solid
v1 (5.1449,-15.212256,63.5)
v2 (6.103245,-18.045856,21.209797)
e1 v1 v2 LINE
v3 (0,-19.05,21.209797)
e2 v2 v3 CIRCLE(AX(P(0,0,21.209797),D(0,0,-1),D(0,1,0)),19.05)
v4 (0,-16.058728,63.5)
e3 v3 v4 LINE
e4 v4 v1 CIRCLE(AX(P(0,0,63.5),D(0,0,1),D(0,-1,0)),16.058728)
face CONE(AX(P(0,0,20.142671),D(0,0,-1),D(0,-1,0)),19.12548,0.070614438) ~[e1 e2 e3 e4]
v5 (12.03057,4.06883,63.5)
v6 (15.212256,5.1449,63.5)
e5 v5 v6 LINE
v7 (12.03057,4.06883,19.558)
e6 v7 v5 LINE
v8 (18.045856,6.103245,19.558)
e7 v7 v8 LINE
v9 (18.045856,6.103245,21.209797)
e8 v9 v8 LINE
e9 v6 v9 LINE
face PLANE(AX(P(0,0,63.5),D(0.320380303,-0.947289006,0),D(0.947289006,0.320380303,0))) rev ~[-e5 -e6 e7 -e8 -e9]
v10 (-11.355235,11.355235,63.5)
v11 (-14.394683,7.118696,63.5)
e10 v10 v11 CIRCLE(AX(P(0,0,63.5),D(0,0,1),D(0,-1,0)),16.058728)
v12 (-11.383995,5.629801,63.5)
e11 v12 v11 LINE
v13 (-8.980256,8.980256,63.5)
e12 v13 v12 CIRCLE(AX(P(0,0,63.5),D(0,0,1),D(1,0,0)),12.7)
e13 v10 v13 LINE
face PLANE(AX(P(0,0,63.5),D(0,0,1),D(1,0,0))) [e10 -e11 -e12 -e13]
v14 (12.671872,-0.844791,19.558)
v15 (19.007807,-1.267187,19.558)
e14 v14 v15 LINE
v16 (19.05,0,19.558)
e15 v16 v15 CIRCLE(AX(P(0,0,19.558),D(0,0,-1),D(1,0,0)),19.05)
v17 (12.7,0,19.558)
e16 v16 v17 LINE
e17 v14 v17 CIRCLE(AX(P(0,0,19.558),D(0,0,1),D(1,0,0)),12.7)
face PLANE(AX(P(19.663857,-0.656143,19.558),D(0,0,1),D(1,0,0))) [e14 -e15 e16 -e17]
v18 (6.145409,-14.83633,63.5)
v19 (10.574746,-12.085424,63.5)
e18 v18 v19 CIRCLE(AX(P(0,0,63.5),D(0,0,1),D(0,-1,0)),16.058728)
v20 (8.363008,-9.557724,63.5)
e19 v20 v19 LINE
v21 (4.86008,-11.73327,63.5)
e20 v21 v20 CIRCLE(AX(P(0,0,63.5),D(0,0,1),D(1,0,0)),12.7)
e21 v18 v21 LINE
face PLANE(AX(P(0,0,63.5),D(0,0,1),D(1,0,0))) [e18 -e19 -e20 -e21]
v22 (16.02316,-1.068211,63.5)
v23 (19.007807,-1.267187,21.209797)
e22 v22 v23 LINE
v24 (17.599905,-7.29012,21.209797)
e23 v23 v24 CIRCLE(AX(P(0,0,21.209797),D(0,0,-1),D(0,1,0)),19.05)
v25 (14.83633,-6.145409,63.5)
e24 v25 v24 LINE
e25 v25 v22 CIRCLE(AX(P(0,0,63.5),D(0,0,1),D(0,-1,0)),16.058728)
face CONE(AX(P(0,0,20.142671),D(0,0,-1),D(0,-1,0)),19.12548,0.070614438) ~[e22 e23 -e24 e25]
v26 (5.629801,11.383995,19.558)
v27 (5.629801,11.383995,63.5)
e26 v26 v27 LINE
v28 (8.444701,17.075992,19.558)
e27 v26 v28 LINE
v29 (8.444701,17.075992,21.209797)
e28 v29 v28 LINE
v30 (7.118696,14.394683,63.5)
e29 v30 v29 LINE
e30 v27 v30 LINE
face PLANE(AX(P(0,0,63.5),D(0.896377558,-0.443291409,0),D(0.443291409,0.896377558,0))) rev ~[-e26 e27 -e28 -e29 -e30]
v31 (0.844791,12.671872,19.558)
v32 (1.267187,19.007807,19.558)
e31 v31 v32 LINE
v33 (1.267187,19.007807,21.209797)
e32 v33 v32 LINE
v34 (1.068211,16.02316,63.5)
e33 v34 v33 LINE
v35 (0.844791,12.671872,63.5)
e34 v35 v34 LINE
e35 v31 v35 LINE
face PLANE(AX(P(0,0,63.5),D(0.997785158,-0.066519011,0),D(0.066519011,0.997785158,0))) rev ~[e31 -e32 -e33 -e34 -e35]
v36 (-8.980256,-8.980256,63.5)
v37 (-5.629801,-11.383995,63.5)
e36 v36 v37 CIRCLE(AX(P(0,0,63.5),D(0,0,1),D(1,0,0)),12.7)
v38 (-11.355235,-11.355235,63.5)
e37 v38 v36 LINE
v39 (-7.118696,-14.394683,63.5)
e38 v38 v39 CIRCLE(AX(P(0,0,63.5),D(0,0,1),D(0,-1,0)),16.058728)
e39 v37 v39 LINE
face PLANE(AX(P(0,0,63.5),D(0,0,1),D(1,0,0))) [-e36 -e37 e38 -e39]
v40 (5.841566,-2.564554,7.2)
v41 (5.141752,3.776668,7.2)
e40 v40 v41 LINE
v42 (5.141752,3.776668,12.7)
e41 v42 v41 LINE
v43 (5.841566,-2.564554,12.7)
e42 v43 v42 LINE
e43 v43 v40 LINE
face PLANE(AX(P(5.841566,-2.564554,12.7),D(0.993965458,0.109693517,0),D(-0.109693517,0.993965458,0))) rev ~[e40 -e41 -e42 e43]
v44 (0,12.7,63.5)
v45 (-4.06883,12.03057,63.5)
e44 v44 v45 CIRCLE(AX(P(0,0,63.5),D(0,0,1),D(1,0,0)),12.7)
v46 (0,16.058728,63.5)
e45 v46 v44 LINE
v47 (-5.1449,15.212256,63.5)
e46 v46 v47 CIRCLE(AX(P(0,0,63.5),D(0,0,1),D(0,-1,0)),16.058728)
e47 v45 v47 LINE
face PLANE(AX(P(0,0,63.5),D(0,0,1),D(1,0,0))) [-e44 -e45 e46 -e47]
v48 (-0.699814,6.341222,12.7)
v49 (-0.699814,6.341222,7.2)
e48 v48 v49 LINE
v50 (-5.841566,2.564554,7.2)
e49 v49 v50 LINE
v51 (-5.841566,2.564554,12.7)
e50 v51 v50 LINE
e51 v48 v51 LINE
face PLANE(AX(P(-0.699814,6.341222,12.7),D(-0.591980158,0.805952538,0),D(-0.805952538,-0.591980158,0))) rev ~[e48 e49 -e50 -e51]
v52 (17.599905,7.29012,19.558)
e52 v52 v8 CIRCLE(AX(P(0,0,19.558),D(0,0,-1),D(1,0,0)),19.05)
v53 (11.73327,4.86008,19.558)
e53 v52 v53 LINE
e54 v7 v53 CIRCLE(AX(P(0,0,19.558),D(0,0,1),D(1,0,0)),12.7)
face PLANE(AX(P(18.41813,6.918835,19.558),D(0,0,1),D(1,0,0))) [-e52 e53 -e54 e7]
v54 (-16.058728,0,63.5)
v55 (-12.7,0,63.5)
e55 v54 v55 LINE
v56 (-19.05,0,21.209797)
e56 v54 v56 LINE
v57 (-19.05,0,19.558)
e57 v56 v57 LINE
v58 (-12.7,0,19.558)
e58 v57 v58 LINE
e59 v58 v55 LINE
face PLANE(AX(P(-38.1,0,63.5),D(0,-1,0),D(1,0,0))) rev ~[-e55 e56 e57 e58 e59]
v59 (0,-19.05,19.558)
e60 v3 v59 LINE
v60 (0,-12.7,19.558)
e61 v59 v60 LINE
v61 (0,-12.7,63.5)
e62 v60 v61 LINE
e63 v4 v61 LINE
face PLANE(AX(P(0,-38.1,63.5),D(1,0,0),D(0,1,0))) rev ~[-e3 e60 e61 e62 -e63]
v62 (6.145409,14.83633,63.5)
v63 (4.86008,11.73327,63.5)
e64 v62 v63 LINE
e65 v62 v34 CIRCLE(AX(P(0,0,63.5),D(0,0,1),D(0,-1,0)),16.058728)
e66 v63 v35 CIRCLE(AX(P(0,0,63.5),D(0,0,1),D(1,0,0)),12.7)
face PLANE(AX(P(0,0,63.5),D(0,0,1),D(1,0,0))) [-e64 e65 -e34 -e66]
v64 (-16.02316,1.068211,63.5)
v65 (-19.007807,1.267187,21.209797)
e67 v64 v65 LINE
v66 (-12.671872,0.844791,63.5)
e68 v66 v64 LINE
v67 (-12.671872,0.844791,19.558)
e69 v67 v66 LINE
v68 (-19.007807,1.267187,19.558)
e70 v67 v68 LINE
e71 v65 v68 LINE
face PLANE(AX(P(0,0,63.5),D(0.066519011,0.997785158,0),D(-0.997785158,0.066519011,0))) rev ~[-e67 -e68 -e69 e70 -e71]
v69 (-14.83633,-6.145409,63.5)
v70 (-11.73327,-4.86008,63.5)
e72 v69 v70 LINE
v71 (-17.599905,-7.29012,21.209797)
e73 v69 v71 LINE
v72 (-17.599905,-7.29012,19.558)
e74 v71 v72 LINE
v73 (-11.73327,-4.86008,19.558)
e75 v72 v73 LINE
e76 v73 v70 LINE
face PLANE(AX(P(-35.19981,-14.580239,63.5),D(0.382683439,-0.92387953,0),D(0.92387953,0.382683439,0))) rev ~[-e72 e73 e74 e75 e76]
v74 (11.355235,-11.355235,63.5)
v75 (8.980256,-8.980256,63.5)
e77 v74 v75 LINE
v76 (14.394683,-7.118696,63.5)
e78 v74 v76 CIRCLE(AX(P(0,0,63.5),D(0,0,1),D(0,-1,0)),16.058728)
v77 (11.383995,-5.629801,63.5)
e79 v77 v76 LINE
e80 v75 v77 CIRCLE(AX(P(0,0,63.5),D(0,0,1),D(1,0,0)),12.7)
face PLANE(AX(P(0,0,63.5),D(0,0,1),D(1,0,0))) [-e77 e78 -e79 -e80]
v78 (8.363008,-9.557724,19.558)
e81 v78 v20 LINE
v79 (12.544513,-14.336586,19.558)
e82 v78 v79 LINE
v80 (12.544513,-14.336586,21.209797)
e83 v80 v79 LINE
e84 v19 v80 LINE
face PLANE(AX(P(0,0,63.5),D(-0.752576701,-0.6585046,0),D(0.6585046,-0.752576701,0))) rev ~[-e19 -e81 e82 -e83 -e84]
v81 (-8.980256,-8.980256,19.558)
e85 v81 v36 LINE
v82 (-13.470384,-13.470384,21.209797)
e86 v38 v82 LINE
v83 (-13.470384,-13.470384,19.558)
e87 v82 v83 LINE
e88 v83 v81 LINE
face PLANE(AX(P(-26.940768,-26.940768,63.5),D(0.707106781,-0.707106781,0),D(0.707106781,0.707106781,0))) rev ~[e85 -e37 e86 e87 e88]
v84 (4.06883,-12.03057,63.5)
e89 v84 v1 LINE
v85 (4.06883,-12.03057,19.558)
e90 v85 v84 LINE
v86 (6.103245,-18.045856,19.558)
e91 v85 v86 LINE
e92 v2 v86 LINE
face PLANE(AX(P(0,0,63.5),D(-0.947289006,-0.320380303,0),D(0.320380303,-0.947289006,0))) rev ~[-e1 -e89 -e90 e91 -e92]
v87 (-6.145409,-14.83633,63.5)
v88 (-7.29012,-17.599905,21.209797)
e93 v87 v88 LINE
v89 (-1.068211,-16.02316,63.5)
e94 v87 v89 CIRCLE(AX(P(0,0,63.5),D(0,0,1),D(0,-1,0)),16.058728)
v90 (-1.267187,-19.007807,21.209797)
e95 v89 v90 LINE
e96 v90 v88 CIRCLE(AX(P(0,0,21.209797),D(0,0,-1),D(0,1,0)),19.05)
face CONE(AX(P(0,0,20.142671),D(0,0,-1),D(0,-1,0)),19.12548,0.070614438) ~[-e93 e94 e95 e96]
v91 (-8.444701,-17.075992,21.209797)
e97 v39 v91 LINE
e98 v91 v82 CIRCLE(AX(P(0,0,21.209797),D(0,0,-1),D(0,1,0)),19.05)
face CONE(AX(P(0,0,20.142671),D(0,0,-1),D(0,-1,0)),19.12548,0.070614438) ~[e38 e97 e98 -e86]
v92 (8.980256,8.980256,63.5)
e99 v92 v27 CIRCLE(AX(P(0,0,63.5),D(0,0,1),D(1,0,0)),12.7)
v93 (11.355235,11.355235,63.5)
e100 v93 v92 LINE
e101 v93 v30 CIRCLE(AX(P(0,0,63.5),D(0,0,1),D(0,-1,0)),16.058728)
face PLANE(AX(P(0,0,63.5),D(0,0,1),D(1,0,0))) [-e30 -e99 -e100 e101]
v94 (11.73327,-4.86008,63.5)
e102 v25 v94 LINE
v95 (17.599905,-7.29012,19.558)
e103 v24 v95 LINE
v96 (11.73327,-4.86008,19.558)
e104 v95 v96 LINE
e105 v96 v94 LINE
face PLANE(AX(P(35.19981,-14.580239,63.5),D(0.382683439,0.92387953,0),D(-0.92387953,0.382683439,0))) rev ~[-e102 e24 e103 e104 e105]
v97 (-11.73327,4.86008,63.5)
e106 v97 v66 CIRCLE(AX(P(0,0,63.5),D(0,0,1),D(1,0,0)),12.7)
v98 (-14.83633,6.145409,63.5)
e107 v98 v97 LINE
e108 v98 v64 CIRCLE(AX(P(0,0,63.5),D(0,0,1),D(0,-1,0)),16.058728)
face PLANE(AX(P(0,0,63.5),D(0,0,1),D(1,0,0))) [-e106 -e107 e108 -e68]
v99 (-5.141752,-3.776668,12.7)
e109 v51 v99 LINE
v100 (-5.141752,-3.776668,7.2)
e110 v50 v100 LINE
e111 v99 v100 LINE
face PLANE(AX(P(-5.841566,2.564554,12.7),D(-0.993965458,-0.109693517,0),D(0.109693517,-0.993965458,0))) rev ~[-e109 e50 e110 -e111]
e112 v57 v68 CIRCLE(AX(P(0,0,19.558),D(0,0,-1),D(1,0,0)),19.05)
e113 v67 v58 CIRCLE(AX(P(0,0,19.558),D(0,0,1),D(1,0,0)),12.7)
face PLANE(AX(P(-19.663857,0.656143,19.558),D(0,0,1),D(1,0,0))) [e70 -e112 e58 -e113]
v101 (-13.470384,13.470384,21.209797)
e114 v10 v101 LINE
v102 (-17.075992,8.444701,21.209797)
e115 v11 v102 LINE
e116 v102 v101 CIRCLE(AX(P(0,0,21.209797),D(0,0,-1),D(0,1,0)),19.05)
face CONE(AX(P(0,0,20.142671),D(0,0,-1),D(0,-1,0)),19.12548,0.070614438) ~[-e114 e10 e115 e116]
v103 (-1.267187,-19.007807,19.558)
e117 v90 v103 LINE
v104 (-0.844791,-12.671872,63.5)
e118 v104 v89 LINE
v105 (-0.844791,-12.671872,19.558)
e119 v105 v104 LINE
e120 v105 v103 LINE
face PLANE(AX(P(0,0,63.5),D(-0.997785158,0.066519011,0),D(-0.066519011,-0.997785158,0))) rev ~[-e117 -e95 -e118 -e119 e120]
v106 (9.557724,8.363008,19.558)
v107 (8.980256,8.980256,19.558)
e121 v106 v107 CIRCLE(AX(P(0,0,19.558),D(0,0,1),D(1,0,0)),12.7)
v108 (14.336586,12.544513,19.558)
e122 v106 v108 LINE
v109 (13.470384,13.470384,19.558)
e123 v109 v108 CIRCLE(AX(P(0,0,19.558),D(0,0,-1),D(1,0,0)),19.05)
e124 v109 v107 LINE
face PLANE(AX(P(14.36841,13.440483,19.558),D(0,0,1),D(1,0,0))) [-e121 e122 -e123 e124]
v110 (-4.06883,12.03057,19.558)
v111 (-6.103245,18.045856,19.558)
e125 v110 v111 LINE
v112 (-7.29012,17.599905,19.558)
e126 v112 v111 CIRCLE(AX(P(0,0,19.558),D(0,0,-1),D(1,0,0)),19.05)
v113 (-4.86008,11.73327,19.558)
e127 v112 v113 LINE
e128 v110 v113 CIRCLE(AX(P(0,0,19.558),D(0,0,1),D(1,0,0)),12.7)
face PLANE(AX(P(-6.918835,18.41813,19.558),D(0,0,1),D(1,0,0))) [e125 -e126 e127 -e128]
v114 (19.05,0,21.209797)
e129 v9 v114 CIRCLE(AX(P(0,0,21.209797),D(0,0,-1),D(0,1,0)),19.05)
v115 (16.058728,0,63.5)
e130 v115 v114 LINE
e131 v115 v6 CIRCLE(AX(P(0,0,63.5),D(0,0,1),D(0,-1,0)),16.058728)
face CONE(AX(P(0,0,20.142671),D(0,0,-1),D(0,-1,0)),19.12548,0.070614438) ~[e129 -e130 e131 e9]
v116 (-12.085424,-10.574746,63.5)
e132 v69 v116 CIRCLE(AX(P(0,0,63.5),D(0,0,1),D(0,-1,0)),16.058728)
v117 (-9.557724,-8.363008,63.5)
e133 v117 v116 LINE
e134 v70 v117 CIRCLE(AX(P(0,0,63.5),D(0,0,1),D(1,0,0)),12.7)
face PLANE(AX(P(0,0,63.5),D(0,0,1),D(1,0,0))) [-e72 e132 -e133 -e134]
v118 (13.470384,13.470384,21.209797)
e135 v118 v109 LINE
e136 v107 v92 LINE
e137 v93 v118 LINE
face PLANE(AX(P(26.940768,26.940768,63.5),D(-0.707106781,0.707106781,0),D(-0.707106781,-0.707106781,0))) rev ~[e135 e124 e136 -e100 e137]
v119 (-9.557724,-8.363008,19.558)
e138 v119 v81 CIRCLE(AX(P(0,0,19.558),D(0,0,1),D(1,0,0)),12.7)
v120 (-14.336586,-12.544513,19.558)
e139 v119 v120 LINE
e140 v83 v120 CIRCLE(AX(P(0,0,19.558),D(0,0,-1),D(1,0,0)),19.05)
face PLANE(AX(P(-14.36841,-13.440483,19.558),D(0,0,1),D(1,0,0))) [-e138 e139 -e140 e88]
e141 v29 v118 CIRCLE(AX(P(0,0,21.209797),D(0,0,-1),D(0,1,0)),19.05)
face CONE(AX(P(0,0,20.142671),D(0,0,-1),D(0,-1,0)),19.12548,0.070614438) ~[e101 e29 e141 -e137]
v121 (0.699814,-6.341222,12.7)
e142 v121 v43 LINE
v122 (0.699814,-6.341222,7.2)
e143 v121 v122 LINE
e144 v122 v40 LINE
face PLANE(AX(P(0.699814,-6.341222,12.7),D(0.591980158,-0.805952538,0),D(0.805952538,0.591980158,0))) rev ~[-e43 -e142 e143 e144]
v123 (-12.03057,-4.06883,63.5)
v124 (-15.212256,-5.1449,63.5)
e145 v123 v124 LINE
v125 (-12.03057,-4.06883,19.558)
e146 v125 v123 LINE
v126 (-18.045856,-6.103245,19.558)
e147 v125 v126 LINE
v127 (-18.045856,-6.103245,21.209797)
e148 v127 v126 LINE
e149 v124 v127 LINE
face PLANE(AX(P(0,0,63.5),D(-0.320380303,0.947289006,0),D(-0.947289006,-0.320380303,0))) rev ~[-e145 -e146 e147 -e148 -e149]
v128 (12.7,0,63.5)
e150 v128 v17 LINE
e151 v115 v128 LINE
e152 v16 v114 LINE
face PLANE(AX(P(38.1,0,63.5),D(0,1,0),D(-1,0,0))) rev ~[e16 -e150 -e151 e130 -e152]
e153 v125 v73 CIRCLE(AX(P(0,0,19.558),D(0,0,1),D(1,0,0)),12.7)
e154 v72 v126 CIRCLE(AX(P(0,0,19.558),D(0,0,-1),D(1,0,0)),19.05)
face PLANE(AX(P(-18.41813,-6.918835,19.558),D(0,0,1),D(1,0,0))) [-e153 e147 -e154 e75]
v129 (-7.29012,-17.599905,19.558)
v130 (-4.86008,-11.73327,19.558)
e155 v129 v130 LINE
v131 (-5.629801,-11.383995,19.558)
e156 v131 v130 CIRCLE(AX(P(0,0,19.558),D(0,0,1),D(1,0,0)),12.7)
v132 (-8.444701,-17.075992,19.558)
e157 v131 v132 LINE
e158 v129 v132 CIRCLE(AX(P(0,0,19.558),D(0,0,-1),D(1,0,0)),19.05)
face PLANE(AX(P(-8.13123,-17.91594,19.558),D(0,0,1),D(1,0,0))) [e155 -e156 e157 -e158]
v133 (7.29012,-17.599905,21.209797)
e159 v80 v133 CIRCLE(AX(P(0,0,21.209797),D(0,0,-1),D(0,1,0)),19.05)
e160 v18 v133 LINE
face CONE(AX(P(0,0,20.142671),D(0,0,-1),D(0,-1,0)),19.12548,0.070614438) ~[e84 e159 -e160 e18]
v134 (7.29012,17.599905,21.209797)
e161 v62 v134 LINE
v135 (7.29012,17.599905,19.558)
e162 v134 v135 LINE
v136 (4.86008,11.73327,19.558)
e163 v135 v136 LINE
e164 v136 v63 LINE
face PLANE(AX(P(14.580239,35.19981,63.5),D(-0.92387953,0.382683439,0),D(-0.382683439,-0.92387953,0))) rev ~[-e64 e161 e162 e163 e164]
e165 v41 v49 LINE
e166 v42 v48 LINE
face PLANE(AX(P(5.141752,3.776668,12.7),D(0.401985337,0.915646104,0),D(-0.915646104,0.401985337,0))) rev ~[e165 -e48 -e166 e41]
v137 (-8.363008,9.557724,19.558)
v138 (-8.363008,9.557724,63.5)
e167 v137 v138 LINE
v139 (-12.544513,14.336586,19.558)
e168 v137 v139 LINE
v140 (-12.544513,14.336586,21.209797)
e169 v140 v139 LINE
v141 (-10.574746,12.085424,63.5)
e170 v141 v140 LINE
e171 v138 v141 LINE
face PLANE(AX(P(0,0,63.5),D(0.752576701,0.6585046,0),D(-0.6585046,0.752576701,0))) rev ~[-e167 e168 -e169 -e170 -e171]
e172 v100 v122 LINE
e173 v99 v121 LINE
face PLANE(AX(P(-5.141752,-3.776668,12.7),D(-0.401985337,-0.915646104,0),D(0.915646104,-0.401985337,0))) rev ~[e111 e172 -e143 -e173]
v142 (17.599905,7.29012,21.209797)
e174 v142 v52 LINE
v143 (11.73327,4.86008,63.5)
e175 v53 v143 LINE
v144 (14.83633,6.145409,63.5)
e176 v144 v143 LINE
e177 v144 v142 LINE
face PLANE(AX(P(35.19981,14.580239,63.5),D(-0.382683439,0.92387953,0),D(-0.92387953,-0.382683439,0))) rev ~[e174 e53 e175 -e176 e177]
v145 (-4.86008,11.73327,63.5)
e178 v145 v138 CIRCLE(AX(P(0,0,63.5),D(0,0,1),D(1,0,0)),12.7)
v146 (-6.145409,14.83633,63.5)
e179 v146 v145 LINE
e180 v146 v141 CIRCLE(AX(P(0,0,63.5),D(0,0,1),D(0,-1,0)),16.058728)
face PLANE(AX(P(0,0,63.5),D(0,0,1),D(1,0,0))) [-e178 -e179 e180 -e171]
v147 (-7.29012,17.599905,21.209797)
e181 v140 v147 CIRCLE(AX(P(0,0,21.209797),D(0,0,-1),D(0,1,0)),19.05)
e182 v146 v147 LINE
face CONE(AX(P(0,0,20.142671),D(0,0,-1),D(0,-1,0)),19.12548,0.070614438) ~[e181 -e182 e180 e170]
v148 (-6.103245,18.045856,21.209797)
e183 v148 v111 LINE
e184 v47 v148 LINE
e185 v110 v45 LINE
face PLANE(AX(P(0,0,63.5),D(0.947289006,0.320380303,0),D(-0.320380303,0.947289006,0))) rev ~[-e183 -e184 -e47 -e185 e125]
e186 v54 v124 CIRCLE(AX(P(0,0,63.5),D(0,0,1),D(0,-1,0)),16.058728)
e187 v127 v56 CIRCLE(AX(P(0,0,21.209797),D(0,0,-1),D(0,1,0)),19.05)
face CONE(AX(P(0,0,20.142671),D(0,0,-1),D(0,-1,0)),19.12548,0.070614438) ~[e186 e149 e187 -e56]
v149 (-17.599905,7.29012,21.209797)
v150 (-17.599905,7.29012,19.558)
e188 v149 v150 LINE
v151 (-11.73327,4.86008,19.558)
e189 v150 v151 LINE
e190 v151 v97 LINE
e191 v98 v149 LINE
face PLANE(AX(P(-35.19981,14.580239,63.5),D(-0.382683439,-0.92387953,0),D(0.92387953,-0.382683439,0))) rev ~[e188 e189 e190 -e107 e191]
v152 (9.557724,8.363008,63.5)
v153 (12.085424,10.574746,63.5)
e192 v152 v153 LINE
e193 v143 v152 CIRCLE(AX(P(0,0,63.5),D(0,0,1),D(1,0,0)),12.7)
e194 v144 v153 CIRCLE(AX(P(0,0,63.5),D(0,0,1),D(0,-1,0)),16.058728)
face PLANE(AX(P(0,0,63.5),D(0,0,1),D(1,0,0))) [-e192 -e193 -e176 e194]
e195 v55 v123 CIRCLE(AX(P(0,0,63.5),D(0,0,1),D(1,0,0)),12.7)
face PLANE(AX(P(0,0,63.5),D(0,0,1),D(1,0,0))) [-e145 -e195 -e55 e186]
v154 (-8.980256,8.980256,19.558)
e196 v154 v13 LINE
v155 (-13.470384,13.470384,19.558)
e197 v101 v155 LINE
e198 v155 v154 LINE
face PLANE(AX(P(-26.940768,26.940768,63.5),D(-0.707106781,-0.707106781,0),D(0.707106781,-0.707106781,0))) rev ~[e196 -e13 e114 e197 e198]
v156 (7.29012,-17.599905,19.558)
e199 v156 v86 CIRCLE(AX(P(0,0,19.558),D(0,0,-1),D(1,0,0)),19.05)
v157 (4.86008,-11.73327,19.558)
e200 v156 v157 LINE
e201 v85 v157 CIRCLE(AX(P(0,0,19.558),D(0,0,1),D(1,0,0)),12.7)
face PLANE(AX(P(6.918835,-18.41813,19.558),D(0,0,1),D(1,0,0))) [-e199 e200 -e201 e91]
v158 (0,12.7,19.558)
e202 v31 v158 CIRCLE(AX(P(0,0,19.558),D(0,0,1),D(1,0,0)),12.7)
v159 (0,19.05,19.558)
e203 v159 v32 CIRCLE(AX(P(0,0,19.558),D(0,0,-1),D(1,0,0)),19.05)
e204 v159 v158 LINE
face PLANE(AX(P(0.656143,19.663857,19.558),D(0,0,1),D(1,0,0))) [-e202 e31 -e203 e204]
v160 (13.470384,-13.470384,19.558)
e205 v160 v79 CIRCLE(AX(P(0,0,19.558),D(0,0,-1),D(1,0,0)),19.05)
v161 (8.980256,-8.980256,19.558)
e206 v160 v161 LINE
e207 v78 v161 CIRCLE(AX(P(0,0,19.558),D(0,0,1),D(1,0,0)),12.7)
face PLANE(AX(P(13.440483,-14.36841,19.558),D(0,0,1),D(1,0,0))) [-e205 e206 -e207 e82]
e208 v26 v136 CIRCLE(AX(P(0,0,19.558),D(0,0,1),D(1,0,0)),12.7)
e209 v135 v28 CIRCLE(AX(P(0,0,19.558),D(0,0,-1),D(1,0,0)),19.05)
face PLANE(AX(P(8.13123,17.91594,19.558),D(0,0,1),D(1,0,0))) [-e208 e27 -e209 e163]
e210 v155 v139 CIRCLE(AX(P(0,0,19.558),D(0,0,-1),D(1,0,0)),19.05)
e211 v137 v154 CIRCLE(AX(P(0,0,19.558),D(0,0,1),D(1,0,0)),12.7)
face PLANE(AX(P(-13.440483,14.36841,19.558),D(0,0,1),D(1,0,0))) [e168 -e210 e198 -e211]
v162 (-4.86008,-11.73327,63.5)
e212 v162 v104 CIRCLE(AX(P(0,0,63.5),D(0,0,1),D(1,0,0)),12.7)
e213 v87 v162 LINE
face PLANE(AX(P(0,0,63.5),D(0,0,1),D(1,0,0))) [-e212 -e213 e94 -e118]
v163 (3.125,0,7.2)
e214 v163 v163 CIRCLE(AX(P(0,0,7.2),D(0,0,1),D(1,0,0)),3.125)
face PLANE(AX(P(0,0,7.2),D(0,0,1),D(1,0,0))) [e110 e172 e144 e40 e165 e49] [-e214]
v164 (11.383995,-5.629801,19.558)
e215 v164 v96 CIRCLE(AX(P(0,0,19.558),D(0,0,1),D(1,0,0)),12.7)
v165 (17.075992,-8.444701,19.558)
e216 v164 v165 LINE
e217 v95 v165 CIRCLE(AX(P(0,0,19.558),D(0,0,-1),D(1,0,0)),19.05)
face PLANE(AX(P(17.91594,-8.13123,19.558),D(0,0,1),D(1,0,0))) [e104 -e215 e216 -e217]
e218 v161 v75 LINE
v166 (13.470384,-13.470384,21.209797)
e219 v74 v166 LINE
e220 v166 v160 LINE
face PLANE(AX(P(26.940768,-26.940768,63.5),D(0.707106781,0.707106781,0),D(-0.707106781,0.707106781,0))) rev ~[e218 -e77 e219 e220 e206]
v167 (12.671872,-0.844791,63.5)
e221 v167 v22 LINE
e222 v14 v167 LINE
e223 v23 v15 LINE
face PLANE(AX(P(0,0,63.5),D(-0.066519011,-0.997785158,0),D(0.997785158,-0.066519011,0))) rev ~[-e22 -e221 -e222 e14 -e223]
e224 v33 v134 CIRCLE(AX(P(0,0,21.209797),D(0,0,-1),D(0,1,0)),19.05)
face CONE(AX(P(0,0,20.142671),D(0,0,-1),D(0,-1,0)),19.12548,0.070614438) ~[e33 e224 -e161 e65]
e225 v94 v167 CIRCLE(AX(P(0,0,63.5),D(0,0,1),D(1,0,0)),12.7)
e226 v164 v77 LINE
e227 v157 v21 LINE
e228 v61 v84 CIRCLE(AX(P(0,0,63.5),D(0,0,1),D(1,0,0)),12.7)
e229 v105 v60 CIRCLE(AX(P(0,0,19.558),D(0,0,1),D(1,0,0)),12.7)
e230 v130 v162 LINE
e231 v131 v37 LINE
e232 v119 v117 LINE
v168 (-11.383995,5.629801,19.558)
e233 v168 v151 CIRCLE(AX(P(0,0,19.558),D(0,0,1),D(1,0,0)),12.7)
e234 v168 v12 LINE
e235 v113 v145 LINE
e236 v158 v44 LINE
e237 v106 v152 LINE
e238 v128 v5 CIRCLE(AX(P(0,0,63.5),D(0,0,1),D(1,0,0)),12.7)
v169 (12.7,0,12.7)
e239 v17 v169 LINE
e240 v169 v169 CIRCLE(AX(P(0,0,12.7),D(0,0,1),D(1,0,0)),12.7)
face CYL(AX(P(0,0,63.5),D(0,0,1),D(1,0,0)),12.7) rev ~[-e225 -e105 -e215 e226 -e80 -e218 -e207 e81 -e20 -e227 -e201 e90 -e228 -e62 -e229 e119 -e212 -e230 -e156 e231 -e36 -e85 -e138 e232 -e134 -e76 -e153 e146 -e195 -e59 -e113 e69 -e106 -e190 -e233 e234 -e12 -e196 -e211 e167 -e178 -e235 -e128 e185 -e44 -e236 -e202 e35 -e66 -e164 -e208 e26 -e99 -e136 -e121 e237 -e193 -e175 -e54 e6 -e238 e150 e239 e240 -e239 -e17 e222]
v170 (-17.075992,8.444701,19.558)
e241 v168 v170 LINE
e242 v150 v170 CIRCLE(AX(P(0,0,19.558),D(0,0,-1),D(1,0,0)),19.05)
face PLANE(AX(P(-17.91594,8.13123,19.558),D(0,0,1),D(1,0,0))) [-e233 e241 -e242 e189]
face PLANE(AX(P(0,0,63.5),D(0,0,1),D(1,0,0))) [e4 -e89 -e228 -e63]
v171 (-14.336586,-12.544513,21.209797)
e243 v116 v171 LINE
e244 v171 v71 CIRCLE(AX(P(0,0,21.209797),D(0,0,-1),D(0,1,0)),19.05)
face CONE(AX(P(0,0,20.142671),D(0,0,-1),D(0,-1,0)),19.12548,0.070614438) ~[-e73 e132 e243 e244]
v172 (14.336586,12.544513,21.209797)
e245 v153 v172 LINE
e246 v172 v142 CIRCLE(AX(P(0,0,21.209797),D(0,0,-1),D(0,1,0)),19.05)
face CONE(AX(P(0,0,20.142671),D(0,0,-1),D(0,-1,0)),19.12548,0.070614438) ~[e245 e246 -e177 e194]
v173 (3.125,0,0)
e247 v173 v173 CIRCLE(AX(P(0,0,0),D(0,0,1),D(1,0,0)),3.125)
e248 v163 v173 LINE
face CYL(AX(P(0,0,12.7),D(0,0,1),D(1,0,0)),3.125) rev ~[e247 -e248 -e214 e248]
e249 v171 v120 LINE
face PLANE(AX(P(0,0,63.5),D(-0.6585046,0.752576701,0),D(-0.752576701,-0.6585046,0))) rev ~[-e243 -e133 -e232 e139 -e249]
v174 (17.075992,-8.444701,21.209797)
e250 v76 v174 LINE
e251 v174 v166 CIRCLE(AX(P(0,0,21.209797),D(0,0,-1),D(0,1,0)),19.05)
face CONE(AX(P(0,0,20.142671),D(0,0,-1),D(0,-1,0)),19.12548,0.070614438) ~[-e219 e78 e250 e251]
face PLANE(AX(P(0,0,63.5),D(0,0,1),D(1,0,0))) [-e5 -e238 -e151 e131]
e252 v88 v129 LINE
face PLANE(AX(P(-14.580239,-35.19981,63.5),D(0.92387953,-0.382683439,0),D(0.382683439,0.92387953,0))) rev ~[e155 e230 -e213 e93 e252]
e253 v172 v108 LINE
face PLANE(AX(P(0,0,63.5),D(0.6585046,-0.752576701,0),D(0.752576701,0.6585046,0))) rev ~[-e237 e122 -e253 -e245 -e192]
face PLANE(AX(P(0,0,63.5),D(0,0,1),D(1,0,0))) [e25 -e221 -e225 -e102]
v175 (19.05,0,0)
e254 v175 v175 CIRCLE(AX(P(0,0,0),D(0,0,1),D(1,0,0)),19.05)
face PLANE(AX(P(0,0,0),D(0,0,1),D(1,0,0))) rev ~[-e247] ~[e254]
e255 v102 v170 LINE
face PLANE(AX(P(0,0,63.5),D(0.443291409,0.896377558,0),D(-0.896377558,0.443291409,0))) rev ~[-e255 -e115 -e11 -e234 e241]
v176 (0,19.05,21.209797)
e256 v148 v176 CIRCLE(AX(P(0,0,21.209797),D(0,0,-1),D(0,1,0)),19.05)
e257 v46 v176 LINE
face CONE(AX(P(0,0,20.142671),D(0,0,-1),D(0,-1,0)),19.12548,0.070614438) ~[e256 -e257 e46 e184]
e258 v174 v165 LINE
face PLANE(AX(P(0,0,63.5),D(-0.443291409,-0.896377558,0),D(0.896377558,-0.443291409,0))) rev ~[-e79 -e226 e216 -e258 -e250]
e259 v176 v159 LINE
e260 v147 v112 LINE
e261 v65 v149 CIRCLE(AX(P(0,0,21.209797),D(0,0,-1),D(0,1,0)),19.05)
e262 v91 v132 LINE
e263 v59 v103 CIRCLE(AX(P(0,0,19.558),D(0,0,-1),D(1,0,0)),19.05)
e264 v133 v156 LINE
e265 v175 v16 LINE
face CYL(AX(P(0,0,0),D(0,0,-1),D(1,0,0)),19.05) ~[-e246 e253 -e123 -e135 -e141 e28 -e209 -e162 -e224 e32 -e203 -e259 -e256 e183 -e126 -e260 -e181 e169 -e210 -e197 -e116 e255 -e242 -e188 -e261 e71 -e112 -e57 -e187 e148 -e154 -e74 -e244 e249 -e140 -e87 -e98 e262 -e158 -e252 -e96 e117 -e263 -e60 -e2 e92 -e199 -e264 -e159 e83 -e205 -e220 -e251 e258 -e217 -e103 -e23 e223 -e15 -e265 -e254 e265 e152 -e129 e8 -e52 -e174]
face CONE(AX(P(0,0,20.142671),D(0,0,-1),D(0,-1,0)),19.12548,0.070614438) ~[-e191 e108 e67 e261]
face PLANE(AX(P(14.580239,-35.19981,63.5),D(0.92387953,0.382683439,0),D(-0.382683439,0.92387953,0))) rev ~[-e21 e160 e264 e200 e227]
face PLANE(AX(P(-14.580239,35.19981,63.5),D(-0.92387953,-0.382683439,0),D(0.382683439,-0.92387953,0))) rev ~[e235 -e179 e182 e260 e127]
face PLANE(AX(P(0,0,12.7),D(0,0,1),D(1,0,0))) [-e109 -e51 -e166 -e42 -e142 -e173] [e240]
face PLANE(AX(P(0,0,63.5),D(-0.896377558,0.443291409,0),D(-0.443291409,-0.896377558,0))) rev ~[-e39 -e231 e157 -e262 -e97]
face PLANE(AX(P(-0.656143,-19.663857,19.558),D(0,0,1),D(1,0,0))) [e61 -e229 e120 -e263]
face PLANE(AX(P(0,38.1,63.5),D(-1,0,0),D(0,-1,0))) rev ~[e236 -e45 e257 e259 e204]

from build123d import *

# Parameters (mm, degrees)
F0_R      = 19.05
F1_DEPTH  = 63.5
F3_R      = 12.7
F4_DEPTH  = 50.8
F6_DEPTH  = 43.942
F7_R      = 3.125
F8_DEPTH  = 53.594
F10_DEPTH = 5.5


with BuildPart() as f1:
    # F0 (on Top) → F1 (new body)
    with BuildSketch(Plane.XY):
        Circle(F0_R)
    extrude(amount=F1_DEPTH)

    # F3 (on face) → F4 (cut)
    with BuildSketch(Plane.XY.offset(63.5)):
        Circle(F3_R)
    extrude(amount=-F4_DEPTH, mode=Mode.SUBTRACT)

    # F5 (on face) → F6 (cut)
    with BuildSketch(Plane.XY.offset(63.5)):
        Polygon((0, 38.1), (0, 0), (2.54, 38.1), align=None)
        Polygon((-14.580239, 35.19981), (0, 0), (-12.233585, 36.171826), align=None)
        Polygon((-26.940768, 26.940768), (0, 0), (-25.144717, 28.73682), align=None)
        Polygon((-35.19981, 14.580239), (0, 0), (-34.227794, 16.926893), align=None)
        Polygon((-38.1, 0), (0, 0), (-38.1, 2.54), align=None)
        Polygon((-35.19981, -14.580239), (0, 0), (-36.171826, -12.233585), align=None)
        Polygon((-26.940768, -26.940768), (0, 0), (-28.73682, -25.144717), align=None)
        Polygon((-14.580239, -35.19981), (0, 0), (-16.926893, -34.227794), align=None)
        Polygon((0, -38.1), (0, 0), (-2.54, -38.1), align=None)
        Polygon((14.580239, -35.19981), (0, 0), (12.233585, -36.171826), align=None)
        Polygon((26.940768, -26.940768), (0, 0), (25.144717, -28.73682), align=None)
        Polygon((35.19981, -14.580239), (0, 0), (34.227794, -16.926893), align=None)
        Polygon((38.1, 0), (0, 0), (38.1, -2.54), align=None)
        Polygon((35.19981, 14.580239), (0, 0), (36.171826, 12.233585), align=None)
        Polygon((26.940768, 26.940768), (0, 0), (28.73682, 25.144717), align=None)
        Polygon((14.580239, 35.19981), (0, 0), (16.926893, 34.227794), align=None)
    extrude(amount=-F6_DEPTH, mode=Mode.SUBTRACT)

    # F7 (on face) → F8 (cut)
    with BuildSketch(Plane.XY.offset(12.7)):
        Circle(F7_R)
    extrude(amount=-F8_DEPTH, mode=Mode.SUBTRACT)

    # F9 (on face) → F10 (cut)
    with BuildSketch(Plane.XY.offset(12.7)):
        Polygon((0.699814, -6.341222), (5.841566, -2.564554), (5.141752, 3.776668), (-0.699814, 6.341222), (-5.841566, 2.564554), (-5.141752, -3.776668), align=None)
    extrude(amount=-F10_DEPTH, mode=Mode.SUBTRACT)

    # F11 (on Right) → F12 (revolve, cut)
    with BuildSketch(Plane.YZ):
        Polygon((-16.030312, 63.901735), (-19.12548, 63.898501), (-19.12548, 20.142671), align=None)
    revolve(axis=Axis((0, 0, -11.778668), (0, 0, -1)), mode=Mode.SUBTRACT)


solid = f1.part
